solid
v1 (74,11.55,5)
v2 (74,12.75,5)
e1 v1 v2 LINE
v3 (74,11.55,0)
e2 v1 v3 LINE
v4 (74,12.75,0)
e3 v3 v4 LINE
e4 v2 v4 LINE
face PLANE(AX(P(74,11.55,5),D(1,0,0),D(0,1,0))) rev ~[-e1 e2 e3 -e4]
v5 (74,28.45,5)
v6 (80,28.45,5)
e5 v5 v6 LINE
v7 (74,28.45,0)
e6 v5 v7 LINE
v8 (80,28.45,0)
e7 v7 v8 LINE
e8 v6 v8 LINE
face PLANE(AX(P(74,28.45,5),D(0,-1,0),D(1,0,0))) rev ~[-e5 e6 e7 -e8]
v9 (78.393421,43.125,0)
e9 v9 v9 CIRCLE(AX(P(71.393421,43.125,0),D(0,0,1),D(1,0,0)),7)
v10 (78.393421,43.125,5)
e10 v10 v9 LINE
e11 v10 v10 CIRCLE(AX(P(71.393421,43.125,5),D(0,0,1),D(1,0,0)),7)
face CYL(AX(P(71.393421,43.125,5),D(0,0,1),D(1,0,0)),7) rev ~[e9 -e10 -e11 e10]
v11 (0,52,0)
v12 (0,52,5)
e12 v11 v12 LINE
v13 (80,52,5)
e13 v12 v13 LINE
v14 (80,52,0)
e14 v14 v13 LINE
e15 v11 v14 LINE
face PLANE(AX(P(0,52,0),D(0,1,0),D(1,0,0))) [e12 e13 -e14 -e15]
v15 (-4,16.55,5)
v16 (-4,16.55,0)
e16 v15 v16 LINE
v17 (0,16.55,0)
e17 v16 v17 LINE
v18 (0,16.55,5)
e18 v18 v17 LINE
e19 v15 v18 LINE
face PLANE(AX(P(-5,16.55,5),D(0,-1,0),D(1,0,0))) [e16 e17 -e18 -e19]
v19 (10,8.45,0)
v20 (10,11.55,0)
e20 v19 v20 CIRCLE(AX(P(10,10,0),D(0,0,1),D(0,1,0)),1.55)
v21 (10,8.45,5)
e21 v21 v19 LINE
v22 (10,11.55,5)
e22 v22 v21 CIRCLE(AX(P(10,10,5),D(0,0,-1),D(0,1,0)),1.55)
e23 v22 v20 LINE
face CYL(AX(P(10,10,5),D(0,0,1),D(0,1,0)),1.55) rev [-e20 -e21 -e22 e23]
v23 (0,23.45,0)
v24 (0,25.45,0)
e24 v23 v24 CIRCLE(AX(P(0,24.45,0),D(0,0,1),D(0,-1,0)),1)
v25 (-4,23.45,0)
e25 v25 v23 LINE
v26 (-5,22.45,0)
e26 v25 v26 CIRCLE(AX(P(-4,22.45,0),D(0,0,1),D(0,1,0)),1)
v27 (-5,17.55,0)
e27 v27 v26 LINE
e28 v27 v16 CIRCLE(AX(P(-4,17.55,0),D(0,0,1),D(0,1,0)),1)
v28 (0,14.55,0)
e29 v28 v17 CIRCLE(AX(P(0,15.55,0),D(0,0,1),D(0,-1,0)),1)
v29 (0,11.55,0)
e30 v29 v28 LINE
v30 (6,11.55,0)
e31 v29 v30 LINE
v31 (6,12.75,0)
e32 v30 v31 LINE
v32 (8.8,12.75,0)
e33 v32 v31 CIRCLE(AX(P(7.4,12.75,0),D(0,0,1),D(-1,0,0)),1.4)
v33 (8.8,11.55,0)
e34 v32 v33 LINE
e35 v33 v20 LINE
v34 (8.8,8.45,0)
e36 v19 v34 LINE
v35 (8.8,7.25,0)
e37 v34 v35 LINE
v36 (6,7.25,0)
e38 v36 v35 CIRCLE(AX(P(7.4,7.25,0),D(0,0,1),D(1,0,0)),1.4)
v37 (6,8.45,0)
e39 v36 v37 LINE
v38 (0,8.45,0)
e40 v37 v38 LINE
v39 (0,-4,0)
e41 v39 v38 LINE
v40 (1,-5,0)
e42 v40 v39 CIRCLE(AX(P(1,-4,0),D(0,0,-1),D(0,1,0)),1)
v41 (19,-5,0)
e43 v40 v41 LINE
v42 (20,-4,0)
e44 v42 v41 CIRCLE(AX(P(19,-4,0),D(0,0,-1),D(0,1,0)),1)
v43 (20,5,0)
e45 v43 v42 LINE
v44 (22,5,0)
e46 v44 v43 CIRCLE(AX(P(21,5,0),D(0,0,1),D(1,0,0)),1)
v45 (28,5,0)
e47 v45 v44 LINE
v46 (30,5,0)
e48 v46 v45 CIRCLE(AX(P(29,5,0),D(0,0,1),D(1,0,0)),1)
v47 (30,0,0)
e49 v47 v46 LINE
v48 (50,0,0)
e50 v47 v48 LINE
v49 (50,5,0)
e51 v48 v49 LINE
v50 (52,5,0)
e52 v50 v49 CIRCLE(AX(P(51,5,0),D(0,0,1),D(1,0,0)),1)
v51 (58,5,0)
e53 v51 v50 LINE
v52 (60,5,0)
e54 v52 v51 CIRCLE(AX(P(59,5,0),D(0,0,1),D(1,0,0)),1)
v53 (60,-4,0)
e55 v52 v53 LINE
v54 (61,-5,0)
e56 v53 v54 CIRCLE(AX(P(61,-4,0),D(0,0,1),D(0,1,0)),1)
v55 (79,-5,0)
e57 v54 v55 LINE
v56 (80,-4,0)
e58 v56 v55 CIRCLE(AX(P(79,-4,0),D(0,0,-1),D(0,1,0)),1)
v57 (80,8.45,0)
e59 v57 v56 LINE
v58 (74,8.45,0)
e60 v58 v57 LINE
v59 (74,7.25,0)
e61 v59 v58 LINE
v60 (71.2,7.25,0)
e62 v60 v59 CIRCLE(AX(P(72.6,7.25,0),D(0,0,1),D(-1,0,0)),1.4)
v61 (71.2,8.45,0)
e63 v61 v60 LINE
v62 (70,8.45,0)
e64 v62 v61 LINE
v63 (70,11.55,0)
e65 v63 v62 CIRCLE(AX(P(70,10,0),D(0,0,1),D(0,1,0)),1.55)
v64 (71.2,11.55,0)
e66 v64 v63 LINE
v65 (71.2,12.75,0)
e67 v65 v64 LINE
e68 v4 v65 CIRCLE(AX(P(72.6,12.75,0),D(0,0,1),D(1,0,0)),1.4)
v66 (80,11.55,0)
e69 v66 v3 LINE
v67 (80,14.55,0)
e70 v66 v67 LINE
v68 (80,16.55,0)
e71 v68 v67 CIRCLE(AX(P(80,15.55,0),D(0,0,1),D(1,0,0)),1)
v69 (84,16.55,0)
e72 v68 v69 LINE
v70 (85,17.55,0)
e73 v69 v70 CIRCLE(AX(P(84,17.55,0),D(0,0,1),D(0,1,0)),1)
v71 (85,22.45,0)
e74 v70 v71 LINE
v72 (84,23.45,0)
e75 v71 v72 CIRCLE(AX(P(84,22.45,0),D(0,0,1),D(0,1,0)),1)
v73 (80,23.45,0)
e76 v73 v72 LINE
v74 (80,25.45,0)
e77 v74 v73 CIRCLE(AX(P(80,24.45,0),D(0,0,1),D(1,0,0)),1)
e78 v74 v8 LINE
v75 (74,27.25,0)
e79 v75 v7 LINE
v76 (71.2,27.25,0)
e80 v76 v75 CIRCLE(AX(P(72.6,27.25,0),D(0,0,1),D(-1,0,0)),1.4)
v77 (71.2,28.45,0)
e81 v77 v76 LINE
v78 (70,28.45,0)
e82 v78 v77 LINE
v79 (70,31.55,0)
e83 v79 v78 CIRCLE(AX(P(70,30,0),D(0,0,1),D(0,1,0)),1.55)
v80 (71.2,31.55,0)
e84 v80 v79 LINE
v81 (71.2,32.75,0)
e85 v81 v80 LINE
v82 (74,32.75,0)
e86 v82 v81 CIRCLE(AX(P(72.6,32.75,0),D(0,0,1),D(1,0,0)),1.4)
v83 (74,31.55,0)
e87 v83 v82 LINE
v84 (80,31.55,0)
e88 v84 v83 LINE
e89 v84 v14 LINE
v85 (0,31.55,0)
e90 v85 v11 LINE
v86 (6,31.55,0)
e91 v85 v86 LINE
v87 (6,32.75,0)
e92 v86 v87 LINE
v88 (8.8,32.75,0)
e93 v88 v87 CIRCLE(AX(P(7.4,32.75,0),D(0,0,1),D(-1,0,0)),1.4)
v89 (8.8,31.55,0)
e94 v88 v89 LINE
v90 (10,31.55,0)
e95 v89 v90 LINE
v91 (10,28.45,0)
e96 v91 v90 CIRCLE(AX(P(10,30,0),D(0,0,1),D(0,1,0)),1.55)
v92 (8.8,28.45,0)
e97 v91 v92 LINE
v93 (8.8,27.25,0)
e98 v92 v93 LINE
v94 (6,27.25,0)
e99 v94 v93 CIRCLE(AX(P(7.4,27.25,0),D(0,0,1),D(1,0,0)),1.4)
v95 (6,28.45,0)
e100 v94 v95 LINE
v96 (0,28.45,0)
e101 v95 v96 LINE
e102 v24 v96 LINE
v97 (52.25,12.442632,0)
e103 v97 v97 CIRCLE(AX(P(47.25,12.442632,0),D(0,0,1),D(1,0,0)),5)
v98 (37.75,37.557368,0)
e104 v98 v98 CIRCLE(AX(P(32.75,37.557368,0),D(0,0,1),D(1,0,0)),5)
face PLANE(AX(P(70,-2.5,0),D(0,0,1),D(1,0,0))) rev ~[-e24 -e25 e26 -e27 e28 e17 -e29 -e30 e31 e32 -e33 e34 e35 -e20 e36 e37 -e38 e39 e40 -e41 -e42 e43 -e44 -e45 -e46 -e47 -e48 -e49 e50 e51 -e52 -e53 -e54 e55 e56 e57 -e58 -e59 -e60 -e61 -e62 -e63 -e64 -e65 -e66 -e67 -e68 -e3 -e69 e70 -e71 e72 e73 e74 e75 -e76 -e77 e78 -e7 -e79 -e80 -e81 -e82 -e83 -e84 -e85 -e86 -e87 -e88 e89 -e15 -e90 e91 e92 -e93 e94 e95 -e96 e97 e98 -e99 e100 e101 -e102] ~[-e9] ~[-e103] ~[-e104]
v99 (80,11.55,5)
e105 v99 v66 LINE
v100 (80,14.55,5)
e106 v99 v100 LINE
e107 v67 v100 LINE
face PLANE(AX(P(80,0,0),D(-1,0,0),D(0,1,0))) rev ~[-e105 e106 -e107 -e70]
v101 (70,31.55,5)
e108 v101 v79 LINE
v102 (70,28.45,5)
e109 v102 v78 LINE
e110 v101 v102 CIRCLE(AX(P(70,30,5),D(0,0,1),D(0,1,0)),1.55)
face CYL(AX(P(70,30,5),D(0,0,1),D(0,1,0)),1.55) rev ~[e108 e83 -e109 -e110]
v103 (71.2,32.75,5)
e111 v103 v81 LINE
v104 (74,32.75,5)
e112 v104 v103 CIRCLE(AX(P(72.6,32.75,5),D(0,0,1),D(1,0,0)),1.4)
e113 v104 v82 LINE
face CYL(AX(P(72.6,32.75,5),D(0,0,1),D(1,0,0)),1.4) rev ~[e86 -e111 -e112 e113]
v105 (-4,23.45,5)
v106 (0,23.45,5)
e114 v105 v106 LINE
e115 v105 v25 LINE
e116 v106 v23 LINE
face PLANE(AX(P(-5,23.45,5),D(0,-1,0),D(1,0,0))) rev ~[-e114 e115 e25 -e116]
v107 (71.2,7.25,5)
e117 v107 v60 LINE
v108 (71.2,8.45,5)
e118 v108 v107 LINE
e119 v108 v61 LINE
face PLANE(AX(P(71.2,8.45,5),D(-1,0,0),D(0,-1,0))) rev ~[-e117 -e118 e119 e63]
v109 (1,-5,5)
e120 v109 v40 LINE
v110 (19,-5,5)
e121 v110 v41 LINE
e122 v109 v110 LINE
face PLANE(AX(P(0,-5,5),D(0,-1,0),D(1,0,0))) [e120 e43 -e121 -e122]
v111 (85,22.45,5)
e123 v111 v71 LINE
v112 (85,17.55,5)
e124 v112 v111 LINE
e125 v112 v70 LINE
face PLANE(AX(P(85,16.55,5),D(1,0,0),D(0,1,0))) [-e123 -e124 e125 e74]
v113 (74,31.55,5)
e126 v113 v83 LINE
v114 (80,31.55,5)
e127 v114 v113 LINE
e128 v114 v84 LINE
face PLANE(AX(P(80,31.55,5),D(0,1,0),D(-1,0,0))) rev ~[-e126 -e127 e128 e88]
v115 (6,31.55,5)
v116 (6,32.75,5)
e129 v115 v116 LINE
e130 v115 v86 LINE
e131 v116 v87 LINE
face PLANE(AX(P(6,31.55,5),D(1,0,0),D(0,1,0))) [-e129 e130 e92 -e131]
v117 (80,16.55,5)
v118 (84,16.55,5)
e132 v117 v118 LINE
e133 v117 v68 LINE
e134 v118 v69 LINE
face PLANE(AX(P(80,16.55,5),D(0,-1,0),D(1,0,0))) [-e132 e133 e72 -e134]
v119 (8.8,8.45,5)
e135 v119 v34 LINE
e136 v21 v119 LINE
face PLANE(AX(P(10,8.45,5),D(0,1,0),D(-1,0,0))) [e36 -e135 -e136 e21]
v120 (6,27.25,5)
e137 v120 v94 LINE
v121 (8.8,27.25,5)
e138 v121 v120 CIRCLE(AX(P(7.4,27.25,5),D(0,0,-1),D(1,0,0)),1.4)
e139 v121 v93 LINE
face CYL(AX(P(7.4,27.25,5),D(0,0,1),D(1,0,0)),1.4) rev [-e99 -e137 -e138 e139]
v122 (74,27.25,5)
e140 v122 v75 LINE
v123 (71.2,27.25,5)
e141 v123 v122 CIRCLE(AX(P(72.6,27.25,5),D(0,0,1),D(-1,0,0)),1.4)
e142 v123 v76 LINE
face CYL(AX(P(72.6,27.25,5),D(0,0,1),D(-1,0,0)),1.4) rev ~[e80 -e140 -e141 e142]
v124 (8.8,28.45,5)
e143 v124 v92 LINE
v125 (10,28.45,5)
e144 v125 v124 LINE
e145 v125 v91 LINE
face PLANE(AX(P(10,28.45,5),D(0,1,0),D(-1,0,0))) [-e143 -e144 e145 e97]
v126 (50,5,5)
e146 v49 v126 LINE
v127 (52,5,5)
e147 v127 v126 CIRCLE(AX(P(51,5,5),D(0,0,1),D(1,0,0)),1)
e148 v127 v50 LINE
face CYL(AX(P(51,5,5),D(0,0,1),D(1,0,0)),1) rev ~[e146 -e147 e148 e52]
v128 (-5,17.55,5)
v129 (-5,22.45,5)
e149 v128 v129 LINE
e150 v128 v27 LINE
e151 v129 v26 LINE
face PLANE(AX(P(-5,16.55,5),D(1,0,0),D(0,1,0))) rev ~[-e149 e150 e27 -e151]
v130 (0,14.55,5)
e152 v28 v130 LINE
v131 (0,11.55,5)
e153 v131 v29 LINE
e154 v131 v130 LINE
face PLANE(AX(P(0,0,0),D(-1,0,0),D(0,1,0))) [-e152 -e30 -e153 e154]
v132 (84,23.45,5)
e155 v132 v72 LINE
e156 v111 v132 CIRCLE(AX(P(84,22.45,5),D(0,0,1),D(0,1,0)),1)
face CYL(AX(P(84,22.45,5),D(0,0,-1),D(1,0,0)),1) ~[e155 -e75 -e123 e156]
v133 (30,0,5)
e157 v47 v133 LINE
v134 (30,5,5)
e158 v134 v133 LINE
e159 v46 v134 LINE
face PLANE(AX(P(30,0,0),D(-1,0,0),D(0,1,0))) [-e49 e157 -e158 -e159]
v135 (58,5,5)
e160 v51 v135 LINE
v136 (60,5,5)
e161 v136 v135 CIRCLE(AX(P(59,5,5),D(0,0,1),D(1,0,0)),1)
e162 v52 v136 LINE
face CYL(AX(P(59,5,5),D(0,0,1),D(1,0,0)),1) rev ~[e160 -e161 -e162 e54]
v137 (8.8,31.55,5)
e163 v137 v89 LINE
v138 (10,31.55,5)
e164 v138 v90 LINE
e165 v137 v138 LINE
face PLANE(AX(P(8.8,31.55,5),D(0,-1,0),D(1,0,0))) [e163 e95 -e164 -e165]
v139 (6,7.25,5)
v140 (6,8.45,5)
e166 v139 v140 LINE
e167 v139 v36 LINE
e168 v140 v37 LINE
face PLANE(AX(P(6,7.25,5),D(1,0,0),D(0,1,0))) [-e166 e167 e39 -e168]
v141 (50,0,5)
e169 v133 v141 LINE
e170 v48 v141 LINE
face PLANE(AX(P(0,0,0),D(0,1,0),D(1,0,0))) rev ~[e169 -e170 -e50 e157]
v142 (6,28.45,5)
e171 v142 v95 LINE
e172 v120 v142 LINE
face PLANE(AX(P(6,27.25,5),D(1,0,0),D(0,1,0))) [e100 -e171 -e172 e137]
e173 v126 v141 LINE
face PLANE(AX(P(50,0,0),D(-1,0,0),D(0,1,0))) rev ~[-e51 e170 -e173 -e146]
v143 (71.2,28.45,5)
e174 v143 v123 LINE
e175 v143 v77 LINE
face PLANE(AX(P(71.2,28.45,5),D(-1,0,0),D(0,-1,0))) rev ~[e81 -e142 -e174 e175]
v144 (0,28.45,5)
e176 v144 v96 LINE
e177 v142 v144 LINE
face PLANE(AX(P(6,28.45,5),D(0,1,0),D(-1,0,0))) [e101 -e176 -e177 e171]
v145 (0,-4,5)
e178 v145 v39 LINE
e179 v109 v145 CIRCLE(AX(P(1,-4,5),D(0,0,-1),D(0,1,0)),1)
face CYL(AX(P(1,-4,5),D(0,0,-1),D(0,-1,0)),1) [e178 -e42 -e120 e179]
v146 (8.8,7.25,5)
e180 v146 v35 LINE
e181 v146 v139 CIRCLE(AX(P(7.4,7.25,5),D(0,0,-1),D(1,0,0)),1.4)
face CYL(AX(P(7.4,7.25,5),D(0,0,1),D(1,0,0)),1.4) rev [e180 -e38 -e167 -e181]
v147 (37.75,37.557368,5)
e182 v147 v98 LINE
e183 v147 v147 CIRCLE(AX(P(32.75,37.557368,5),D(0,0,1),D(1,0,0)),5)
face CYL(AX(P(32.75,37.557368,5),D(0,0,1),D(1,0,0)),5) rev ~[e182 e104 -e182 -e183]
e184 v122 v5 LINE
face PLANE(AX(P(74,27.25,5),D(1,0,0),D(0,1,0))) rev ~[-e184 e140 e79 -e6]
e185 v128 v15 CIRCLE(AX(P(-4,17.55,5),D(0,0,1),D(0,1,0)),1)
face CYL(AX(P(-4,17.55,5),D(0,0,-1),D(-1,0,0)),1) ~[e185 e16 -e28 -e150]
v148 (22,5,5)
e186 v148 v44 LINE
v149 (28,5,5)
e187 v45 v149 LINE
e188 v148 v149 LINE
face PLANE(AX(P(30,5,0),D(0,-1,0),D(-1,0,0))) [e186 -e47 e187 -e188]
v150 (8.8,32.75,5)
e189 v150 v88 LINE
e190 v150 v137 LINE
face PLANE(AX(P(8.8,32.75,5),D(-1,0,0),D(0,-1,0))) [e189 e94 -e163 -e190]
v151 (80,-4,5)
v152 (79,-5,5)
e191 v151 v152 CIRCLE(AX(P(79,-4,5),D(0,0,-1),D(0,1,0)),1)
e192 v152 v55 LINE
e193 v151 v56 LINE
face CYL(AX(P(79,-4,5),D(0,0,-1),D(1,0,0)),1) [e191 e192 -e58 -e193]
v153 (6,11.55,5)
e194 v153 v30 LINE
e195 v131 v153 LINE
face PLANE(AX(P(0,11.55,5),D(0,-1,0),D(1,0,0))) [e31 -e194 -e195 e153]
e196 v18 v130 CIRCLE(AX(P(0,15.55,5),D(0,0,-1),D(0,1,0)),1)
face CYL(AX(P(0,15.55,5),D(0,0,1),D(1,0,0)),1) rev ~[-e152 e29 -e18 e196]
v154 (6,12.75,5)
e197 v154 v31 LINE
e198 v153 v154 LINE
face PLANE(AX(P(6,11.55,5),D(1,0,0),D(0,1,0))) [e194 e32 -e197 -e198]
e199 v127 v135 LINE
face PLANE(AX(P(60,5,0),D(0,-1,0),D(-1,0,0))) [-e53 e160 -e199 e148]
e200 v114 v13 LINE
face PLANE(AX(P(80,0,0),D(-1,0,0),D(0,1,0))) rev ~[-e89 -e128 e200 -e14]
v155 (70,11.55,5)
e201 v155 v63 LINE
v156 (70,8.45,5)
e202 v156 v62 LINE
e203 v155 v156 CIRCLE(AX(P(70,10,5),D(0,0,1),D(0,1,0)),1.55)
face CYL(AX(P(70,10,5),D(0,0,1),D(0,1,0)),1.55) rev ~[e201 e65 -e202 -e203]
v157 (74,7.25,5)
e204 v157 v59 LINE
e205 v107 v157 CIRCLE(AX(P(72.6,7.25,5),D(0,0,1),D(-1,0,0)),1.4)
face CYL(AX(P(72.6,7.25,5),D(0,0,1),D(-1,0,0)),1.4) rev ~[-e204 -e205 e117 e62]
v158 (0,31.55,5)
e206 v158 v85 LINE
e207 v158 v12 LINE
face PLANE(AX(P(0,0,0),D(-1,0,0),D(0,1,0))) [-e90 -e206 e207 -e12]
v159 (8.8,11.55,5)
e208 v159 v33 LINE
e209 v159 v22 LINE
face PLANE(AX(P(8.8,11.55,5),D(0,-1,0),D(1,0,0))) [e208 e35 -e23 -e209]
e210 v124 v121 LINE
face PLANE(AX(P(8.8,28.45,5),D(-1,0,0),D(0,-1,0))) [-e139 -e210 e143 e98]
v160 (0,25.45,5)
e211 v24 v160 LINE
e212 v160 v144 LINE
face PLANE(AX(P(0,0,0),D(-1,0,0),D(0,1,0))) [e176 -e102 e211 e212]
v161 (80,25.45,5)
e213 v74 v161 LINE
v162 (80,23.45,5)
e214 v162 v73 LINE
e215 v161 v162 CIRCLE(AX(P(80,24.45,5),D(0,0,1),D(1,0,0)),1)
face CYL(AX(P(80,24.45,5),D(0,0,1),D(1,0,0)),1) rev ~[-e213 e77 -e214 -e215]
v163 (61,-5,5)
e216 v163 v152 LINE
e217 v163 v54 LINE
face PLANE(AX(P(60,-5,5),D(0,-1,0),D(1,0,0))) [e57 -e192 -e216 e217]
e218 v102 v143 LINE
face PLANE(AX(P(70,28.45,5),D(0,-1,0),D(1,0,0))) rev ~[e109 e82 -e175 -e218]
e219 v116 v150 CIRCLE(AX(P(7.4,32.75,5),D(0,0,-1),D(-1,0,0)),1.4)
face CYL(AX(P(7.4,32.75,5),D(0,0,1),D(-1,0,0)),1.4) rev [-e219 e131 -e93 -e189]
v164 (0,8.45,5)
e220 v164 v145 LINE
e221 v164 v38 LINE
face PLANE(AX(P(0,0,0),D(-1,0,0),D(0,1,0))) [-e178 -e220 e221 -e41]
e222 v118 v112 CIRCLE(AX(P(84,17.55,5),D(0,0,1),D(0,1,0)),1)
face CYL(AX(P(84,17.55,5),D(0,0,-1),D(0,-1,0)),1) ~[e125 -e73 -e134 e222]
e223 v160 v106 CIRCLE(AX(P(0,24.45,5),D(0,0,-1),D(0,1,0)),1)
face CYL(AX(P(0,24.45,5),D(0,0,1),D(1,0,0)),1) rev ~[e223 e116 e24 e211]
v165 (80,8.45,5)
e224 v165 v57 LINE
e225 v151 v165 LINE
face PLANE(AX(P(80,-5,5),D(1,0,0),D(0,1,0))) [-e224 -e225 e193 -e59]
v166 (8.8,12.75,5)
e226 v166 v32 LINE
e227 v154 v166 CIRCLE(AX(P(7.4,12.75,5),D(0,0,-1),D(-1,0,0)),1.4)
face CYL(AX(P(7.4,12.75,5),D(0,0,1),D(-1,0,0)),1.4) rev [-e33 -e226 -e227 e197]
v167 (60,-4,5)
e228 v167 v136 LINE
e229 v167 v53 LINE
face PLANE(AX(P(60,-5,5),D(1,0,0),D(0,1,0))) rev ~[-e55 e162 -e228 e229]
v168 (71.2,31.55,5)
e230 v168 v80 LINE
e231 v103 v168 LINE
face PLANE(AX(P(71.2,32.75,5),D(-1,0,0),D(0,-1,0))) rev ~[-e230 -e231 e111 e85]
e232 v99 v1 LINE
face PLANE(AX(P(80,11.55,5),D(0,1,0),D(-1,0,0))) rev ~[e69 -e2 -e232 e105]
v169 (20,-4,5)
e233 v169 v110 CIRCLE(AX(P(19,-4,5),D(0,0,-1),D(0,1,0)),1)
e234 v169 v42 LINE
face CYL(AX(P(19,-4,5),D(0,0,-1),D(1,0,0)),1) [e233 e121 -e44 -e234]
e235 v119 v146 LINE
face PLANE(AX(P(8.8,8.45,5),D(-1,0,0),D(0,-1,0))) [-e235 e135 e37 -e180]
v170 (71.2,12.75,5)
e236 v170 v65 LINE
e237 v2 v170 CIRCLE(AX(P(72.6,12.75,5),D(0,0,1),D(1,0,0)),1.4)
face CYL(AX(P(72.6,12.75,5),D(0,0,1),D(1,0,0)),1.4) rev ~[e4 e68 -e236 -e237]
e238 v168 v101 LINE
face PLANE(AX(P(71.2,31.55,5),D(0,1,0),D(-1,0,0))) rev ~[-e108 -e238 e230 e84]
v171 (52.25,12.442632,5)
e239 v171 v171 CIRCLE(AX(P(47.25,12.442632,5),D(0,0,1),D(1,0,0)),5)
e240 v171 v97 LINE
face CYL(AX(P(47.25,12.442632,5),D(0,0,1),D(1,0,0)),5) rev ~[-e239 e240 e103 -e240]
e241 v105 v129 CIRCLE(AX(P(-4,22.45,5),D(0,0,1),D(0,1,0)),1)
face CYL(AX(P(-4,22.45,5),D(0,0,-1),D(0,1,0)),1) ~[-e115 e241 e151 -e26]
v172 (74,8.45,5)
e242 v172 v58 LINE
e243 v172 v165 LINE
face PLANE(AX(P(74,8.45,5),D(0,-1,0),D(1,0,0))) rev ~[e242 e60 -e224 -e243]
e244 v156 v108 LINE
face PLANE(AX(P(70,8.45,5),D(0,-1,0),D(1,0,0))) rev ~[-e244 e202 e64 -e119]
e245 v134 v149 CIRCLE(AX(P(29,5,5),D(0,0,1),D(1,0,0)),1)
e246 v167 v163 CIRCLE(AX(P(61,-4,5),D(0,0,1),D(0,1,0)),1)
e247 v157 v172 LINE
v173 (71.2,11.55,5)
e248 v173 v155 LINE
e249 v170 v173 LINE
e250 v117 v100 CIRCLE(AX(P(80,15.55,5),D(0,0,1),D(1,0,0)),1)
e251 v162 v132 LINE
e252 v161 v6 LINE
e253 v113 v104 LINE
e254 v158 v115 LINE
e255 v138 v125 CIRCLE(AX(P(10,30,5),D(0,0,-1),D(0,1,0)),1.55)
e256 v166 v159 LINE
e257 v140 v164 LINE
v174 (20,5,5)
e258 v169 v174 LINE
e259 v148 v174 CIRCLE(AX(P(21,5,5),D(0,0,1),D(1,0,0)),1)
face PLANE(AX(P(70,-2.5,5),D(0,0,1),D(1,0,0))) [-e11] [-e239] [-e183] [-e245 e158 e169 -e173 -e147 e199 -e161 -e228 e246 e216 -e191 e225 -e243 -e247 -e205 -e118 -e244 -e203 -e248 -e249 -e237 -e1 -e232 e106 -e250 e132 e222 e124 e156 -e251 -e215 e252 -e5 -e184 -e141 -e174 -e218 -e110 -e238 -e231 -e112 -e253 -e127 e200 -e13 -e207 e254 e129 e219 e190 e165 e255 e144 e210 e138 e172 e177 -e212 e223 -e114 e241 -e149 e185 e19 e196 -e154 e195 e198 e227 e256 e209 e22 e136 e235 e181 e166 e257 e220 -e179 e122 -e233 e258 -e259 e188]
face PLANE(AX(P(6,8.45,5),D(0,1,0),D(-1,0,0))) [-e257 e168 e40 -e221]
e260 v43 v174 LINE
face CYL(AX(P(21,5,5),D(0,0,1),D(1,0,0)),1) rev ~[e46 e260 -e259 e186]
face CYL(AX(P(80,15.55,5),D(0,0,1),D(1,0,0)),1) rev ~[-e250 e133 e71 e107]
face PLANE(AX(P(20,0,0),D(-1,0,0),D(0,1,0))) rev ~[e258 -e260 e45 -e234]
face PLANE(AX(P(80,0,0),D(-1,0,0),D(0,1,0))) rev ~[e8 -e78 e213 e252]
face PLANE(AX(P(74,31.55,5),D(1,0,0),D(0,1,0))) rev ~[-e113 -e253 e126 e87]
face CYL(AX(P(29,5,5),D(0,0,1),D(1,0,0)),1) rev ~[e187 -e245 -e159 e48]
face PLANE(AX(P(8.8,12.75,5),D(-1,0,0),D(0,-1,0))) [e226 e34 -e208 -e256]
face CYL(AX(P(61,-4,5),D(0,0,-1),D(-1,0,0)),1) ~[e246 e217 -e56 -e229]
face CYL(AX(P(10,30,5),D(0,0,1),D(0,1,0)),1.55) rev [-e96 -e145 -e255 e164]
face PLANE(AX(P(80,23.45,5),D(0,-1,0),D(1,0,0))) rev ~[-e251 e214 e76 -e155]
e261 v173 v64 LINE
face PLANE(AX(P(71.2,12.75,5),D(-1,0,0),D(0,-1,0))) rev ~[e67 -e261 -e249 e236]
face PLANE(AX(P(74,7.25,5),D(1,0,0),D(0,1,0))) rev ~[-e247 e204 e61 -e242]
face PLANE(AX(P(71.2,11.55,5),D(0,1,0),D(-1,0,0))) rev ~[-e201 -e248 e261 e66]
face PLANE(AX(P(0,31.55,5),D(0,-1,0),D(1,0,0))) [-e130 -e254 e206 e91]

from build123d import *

# Parameters (mm, degrees)
SKETCH_1_W          = 80
SKETCH_1_H          = 52
EXTRUDE_1_DEPTH     = 5
SKETCH_2_R          = 7
CUT_EXTRUDE_1_DEPTH = 5
CUT_EXTRUDE_3_DEPTH = 10
SKETCH_7_R          = 5
CUT_EXTRUDE_4_DEPTH = 10
SKETCH_10_W         = 10
SKETCH_10_H         = 5
CUT_EXTRUDE_5_DEPTH = 10
SKETCH_11_R         = 1
CUT_EXTRUDE_6_DEPTH = 10
SKETCH_12_W         = 5
SKETCH_12_H         = 6.9
EXTRUDE_3_DEPTH     = 5
SKETCH_13_R         = 1
CUT_EXTRUDE_7_DEPTH = 5
FILLET_1_R          = 1
SKETCH_14_W         = 20
SKETCH_14_H         = 5
EXTRUDE_4_DEPTH     = 5
FILLET_2_R          = 1


with BuildPart() as part:
    # 스케치1 → 보스-돌출1 (new body)
    with BuildSketch(Plane.XY):
        with Locations((40, 26)):
            Rectangle(SKETCH_1_W, SKETCH_1_H)
    extrude(amount=EXTRUDE_1_DEPTH)

    # 스케치2 → 컷-돌출1 (cut)
    with BuildSketch(Plane.XY.offset(5)):
        with Locations((71.393420887, 43.125)):
            Circle(SKETCH_2_R)
    extrude(amount=-CUT_EXTRUDE_1_DEPTH, mode=Mode.SUBTRACT)

    # 스케치6 → 컷-돌출3 (cut)
    with BuildSketch(Plane.XY.offset(5)):
        with BuildLine():
            Line((0, 31.55), (6, 31.55))
            Line((6, 31.55), (6, 32.75))
            ThreePointArc((6, 32.75), (7.4, 34.15), (8.8, 32.75))
            Line((8.8, 32.75), (8.8, 31.55))
            Line((8.8, 31.55), (10, 31.55))
            ThreePointArc((10, 31.55), (11.55, 30), (10, 28.45))
            Line((10, 28.45), (8.8, 28.45))
            Line((8.8, 28.45), (8.8, 27.25))
            ThreePointArc((8.8, 27.25), (7.4, 25.85), (6, 27.25))
            Line((6, 27.25), (6, 28.45))
            Line((6, 28.45), (0, 28.45))
            Line((0, 28.45), (0, 31.55))
        make_face()
        with BuildLine():
            Line((0, 11.55), (6, 11.55))
            Line((6, 11.55), (6, 12.75))
            ThreePointArc((6, 12.75), (7.4, 14.15), (8.8, 12.75))
            Line((8.8, 12.75), (8.8, 11.55))
            Line((8.8, 11.55), (10, 11.55))
            ThreePointArc((10, 11.55), (11.55, 10), (10, 8.45))
            Line((10, 8.45), (8.8, 8.45))
            Line((8.8, 8.45), (8.8, 7.25))
            ThreePointArc((8.8, 7.25), (7.4, 5.85), (6, 7.25))
            Line((6, 7.25), (6, 8.45))
            Line((6, 8.45), (0, 8.45))
            Line((0, 8.45), (0, 11.55))
        make_face()
        with BuildLine():
            Line((74, 7.25), (74, 8.45))
            Line((74, 8.45), (80, 8.45))
            Line((80, 8.45), (80, 11.55))
            Line((80, 11.55), (74, 11.55))
            Line((74, 11.55), (74, 12.75))
            ThreePointArc((74, 12.75), (72.6, 14.15), (71.2, 12.75))
            Line((71.2, 12.75), (71.2, 11.55))
            Line((71.2, 11.55), (70, 11.55))
            ThreePointArc((70, 11.55), (68.45, 10), (70, 8.45))
            Line((70, 8.45), (71.2, 8.45))
            Line((71.2, 8.45), (71.2, 7.25))
            ThreePointArc((71.2, 7.25), (72.6, 5.85), (74, 7.25))
        make_face()
        with BuildLine():
            Line((74, 27.25), (74, 28.45))
            Line((74, 28.45), (80, 28.45))
            Line((80, 28.45), (80, 31.55))
            Line((80, 31.55), (74, 31.55))
            Line((74, 31.55), (74, 32.75))
            ThreePointArc((74, 32.75), (72.6, 34.15), (71.2, 32.75))
            Line((71.2, 32.75), (71.2, 31.55))
            Line((71.2, 31.55), (70, 31.55))
            ThreePointArc((70, 31.55), (68.45, 30), (70, 28.45))
            Line((70, 28.45), (71.2, 28.45))
            Line((71.2, 28.45), (71.2, 27.25))
            ThreePointArc((71.2, 27.25), (72.6, 25.85), (74, 27.25))
        make_face()
    extrude(amount=-CUT_EXTRUDE_3_DEPTH, mode=Mode.SUBTRACT)

    # 스케치7 → 컷-돌출4 (cut)
    with BuildSketch(Plane.XY.offset(5)):
        with Locations((32.75, 37.557368355)):
            Circle(SKETCH_7_R)
        with Locations((47.25, 12.442631645)):
            Circle(SKETCH_7_R)
    extrude(amount=-CUT_EXTRUDE_4_DEPTH, mode=Mode.SUBTRACT)

    # 스케치10 → 컷-돌출5 (cut)
    with BuildSketch(Plane(origin=(0, 0, 0), x_dir=(-1, 0, 0), z_dir=(0, 0, -1))):
        with Locations((-25, 2.5)):
            Rectangle(SKETCH_10_W, SKETCH_10_H)
        with Locations((-55, 2.5)):
            Rectangle(SKETCH_10_W, SKETCH_10_H)
    extrude(amount=-CUT_EXTRUDE_5_DEPTH, mode=Mode.SUBTRACT)

    # 스케치11 → 컷-돌출6 (cut)
    with BuildSketch(Plane.XY.offset(5)):
        with Locations((59, 5)):
            Circle(SKETCH_11_R)
        with Locations((51, 5)):
            Circle(SKETCH_11_R)
        with Locations((29, 5)):
            Circle(SKETCH_11_R)
        with Locations((21, 5)):
            Circle(SKETCH_11_R)
    extrude(amount=-CUT_EXTRUDE_6_DEPTH, mode=Mode.SUBTRACT)

    # 스케치12 → 보스-돌출3 (add)
    with BuildSketch(Plane.XY.offset(5)):
        with Locations((82.5, 20)):
            Rectangle(SKETCH_12_W, SKETCH_12_H)
        with Locations((-2.5, 20)):
            Rectangle(SKETCH_12_W, SKETCH_12_H)
    extrude(amount=-EXTRUDE_3_DEPTH)

    # 스케치13 → 컷-돌출7 (cut)
    with BuildSketch(Plane.XY.offset(5)):
        with Locations((80, 24.45)):
            Circle(SKETCH_13_R)
        with Locations((80, 15.55)):
            Circle(SKETCH_13_R)
        with Locations((0, 15.55)):
            Circle(SKETCH_13_R)
        with Locations((0, 24.45)):
            Circle(SKETCH_13_R)
    extrude(amount=-CUT_EXTRUDE_7_DEPTH, mode=Mode.SUBTRACT)

    # 필렛1
    fillet_1_edges = [part.edges().sort_by_distance(p)[0] for p in [
        (85, 23.45, 2.5),
        (85, 16.55, 2.5),
        (-5, 16.55, 2.5),
        (-5, 23.45, 2.5),
    ]]
    fillet(fillet_1_edges, radius=FILLET_1_R)

    # 스케치14 → 보스-돌출4 (add)
    with BuildSketch(Plane.XY.offset(5)):
        with Locations((70, -2.5)):
            Rectangle(SKETCH_14_W, SKETCH_14_H)
        with Locations((10, -2.5)):
            Rectangle(SKETCH_14_W, SKETCH_14_H)
    extrude(amount=-EXTRUDE_4_DEPTH)

    # 필렛2
    fillet_2_edges = [part.edges().sort_by_distance(p)[0] for p in [
        (80, -5, 2.5),
        (60, -5, 2.5),
        (0, -5, 2.5),
        (20, -5, 2.5),
    ]]
    fillet(fillet_2_edges, radius=FILLET_2_R)


solid = part.part
